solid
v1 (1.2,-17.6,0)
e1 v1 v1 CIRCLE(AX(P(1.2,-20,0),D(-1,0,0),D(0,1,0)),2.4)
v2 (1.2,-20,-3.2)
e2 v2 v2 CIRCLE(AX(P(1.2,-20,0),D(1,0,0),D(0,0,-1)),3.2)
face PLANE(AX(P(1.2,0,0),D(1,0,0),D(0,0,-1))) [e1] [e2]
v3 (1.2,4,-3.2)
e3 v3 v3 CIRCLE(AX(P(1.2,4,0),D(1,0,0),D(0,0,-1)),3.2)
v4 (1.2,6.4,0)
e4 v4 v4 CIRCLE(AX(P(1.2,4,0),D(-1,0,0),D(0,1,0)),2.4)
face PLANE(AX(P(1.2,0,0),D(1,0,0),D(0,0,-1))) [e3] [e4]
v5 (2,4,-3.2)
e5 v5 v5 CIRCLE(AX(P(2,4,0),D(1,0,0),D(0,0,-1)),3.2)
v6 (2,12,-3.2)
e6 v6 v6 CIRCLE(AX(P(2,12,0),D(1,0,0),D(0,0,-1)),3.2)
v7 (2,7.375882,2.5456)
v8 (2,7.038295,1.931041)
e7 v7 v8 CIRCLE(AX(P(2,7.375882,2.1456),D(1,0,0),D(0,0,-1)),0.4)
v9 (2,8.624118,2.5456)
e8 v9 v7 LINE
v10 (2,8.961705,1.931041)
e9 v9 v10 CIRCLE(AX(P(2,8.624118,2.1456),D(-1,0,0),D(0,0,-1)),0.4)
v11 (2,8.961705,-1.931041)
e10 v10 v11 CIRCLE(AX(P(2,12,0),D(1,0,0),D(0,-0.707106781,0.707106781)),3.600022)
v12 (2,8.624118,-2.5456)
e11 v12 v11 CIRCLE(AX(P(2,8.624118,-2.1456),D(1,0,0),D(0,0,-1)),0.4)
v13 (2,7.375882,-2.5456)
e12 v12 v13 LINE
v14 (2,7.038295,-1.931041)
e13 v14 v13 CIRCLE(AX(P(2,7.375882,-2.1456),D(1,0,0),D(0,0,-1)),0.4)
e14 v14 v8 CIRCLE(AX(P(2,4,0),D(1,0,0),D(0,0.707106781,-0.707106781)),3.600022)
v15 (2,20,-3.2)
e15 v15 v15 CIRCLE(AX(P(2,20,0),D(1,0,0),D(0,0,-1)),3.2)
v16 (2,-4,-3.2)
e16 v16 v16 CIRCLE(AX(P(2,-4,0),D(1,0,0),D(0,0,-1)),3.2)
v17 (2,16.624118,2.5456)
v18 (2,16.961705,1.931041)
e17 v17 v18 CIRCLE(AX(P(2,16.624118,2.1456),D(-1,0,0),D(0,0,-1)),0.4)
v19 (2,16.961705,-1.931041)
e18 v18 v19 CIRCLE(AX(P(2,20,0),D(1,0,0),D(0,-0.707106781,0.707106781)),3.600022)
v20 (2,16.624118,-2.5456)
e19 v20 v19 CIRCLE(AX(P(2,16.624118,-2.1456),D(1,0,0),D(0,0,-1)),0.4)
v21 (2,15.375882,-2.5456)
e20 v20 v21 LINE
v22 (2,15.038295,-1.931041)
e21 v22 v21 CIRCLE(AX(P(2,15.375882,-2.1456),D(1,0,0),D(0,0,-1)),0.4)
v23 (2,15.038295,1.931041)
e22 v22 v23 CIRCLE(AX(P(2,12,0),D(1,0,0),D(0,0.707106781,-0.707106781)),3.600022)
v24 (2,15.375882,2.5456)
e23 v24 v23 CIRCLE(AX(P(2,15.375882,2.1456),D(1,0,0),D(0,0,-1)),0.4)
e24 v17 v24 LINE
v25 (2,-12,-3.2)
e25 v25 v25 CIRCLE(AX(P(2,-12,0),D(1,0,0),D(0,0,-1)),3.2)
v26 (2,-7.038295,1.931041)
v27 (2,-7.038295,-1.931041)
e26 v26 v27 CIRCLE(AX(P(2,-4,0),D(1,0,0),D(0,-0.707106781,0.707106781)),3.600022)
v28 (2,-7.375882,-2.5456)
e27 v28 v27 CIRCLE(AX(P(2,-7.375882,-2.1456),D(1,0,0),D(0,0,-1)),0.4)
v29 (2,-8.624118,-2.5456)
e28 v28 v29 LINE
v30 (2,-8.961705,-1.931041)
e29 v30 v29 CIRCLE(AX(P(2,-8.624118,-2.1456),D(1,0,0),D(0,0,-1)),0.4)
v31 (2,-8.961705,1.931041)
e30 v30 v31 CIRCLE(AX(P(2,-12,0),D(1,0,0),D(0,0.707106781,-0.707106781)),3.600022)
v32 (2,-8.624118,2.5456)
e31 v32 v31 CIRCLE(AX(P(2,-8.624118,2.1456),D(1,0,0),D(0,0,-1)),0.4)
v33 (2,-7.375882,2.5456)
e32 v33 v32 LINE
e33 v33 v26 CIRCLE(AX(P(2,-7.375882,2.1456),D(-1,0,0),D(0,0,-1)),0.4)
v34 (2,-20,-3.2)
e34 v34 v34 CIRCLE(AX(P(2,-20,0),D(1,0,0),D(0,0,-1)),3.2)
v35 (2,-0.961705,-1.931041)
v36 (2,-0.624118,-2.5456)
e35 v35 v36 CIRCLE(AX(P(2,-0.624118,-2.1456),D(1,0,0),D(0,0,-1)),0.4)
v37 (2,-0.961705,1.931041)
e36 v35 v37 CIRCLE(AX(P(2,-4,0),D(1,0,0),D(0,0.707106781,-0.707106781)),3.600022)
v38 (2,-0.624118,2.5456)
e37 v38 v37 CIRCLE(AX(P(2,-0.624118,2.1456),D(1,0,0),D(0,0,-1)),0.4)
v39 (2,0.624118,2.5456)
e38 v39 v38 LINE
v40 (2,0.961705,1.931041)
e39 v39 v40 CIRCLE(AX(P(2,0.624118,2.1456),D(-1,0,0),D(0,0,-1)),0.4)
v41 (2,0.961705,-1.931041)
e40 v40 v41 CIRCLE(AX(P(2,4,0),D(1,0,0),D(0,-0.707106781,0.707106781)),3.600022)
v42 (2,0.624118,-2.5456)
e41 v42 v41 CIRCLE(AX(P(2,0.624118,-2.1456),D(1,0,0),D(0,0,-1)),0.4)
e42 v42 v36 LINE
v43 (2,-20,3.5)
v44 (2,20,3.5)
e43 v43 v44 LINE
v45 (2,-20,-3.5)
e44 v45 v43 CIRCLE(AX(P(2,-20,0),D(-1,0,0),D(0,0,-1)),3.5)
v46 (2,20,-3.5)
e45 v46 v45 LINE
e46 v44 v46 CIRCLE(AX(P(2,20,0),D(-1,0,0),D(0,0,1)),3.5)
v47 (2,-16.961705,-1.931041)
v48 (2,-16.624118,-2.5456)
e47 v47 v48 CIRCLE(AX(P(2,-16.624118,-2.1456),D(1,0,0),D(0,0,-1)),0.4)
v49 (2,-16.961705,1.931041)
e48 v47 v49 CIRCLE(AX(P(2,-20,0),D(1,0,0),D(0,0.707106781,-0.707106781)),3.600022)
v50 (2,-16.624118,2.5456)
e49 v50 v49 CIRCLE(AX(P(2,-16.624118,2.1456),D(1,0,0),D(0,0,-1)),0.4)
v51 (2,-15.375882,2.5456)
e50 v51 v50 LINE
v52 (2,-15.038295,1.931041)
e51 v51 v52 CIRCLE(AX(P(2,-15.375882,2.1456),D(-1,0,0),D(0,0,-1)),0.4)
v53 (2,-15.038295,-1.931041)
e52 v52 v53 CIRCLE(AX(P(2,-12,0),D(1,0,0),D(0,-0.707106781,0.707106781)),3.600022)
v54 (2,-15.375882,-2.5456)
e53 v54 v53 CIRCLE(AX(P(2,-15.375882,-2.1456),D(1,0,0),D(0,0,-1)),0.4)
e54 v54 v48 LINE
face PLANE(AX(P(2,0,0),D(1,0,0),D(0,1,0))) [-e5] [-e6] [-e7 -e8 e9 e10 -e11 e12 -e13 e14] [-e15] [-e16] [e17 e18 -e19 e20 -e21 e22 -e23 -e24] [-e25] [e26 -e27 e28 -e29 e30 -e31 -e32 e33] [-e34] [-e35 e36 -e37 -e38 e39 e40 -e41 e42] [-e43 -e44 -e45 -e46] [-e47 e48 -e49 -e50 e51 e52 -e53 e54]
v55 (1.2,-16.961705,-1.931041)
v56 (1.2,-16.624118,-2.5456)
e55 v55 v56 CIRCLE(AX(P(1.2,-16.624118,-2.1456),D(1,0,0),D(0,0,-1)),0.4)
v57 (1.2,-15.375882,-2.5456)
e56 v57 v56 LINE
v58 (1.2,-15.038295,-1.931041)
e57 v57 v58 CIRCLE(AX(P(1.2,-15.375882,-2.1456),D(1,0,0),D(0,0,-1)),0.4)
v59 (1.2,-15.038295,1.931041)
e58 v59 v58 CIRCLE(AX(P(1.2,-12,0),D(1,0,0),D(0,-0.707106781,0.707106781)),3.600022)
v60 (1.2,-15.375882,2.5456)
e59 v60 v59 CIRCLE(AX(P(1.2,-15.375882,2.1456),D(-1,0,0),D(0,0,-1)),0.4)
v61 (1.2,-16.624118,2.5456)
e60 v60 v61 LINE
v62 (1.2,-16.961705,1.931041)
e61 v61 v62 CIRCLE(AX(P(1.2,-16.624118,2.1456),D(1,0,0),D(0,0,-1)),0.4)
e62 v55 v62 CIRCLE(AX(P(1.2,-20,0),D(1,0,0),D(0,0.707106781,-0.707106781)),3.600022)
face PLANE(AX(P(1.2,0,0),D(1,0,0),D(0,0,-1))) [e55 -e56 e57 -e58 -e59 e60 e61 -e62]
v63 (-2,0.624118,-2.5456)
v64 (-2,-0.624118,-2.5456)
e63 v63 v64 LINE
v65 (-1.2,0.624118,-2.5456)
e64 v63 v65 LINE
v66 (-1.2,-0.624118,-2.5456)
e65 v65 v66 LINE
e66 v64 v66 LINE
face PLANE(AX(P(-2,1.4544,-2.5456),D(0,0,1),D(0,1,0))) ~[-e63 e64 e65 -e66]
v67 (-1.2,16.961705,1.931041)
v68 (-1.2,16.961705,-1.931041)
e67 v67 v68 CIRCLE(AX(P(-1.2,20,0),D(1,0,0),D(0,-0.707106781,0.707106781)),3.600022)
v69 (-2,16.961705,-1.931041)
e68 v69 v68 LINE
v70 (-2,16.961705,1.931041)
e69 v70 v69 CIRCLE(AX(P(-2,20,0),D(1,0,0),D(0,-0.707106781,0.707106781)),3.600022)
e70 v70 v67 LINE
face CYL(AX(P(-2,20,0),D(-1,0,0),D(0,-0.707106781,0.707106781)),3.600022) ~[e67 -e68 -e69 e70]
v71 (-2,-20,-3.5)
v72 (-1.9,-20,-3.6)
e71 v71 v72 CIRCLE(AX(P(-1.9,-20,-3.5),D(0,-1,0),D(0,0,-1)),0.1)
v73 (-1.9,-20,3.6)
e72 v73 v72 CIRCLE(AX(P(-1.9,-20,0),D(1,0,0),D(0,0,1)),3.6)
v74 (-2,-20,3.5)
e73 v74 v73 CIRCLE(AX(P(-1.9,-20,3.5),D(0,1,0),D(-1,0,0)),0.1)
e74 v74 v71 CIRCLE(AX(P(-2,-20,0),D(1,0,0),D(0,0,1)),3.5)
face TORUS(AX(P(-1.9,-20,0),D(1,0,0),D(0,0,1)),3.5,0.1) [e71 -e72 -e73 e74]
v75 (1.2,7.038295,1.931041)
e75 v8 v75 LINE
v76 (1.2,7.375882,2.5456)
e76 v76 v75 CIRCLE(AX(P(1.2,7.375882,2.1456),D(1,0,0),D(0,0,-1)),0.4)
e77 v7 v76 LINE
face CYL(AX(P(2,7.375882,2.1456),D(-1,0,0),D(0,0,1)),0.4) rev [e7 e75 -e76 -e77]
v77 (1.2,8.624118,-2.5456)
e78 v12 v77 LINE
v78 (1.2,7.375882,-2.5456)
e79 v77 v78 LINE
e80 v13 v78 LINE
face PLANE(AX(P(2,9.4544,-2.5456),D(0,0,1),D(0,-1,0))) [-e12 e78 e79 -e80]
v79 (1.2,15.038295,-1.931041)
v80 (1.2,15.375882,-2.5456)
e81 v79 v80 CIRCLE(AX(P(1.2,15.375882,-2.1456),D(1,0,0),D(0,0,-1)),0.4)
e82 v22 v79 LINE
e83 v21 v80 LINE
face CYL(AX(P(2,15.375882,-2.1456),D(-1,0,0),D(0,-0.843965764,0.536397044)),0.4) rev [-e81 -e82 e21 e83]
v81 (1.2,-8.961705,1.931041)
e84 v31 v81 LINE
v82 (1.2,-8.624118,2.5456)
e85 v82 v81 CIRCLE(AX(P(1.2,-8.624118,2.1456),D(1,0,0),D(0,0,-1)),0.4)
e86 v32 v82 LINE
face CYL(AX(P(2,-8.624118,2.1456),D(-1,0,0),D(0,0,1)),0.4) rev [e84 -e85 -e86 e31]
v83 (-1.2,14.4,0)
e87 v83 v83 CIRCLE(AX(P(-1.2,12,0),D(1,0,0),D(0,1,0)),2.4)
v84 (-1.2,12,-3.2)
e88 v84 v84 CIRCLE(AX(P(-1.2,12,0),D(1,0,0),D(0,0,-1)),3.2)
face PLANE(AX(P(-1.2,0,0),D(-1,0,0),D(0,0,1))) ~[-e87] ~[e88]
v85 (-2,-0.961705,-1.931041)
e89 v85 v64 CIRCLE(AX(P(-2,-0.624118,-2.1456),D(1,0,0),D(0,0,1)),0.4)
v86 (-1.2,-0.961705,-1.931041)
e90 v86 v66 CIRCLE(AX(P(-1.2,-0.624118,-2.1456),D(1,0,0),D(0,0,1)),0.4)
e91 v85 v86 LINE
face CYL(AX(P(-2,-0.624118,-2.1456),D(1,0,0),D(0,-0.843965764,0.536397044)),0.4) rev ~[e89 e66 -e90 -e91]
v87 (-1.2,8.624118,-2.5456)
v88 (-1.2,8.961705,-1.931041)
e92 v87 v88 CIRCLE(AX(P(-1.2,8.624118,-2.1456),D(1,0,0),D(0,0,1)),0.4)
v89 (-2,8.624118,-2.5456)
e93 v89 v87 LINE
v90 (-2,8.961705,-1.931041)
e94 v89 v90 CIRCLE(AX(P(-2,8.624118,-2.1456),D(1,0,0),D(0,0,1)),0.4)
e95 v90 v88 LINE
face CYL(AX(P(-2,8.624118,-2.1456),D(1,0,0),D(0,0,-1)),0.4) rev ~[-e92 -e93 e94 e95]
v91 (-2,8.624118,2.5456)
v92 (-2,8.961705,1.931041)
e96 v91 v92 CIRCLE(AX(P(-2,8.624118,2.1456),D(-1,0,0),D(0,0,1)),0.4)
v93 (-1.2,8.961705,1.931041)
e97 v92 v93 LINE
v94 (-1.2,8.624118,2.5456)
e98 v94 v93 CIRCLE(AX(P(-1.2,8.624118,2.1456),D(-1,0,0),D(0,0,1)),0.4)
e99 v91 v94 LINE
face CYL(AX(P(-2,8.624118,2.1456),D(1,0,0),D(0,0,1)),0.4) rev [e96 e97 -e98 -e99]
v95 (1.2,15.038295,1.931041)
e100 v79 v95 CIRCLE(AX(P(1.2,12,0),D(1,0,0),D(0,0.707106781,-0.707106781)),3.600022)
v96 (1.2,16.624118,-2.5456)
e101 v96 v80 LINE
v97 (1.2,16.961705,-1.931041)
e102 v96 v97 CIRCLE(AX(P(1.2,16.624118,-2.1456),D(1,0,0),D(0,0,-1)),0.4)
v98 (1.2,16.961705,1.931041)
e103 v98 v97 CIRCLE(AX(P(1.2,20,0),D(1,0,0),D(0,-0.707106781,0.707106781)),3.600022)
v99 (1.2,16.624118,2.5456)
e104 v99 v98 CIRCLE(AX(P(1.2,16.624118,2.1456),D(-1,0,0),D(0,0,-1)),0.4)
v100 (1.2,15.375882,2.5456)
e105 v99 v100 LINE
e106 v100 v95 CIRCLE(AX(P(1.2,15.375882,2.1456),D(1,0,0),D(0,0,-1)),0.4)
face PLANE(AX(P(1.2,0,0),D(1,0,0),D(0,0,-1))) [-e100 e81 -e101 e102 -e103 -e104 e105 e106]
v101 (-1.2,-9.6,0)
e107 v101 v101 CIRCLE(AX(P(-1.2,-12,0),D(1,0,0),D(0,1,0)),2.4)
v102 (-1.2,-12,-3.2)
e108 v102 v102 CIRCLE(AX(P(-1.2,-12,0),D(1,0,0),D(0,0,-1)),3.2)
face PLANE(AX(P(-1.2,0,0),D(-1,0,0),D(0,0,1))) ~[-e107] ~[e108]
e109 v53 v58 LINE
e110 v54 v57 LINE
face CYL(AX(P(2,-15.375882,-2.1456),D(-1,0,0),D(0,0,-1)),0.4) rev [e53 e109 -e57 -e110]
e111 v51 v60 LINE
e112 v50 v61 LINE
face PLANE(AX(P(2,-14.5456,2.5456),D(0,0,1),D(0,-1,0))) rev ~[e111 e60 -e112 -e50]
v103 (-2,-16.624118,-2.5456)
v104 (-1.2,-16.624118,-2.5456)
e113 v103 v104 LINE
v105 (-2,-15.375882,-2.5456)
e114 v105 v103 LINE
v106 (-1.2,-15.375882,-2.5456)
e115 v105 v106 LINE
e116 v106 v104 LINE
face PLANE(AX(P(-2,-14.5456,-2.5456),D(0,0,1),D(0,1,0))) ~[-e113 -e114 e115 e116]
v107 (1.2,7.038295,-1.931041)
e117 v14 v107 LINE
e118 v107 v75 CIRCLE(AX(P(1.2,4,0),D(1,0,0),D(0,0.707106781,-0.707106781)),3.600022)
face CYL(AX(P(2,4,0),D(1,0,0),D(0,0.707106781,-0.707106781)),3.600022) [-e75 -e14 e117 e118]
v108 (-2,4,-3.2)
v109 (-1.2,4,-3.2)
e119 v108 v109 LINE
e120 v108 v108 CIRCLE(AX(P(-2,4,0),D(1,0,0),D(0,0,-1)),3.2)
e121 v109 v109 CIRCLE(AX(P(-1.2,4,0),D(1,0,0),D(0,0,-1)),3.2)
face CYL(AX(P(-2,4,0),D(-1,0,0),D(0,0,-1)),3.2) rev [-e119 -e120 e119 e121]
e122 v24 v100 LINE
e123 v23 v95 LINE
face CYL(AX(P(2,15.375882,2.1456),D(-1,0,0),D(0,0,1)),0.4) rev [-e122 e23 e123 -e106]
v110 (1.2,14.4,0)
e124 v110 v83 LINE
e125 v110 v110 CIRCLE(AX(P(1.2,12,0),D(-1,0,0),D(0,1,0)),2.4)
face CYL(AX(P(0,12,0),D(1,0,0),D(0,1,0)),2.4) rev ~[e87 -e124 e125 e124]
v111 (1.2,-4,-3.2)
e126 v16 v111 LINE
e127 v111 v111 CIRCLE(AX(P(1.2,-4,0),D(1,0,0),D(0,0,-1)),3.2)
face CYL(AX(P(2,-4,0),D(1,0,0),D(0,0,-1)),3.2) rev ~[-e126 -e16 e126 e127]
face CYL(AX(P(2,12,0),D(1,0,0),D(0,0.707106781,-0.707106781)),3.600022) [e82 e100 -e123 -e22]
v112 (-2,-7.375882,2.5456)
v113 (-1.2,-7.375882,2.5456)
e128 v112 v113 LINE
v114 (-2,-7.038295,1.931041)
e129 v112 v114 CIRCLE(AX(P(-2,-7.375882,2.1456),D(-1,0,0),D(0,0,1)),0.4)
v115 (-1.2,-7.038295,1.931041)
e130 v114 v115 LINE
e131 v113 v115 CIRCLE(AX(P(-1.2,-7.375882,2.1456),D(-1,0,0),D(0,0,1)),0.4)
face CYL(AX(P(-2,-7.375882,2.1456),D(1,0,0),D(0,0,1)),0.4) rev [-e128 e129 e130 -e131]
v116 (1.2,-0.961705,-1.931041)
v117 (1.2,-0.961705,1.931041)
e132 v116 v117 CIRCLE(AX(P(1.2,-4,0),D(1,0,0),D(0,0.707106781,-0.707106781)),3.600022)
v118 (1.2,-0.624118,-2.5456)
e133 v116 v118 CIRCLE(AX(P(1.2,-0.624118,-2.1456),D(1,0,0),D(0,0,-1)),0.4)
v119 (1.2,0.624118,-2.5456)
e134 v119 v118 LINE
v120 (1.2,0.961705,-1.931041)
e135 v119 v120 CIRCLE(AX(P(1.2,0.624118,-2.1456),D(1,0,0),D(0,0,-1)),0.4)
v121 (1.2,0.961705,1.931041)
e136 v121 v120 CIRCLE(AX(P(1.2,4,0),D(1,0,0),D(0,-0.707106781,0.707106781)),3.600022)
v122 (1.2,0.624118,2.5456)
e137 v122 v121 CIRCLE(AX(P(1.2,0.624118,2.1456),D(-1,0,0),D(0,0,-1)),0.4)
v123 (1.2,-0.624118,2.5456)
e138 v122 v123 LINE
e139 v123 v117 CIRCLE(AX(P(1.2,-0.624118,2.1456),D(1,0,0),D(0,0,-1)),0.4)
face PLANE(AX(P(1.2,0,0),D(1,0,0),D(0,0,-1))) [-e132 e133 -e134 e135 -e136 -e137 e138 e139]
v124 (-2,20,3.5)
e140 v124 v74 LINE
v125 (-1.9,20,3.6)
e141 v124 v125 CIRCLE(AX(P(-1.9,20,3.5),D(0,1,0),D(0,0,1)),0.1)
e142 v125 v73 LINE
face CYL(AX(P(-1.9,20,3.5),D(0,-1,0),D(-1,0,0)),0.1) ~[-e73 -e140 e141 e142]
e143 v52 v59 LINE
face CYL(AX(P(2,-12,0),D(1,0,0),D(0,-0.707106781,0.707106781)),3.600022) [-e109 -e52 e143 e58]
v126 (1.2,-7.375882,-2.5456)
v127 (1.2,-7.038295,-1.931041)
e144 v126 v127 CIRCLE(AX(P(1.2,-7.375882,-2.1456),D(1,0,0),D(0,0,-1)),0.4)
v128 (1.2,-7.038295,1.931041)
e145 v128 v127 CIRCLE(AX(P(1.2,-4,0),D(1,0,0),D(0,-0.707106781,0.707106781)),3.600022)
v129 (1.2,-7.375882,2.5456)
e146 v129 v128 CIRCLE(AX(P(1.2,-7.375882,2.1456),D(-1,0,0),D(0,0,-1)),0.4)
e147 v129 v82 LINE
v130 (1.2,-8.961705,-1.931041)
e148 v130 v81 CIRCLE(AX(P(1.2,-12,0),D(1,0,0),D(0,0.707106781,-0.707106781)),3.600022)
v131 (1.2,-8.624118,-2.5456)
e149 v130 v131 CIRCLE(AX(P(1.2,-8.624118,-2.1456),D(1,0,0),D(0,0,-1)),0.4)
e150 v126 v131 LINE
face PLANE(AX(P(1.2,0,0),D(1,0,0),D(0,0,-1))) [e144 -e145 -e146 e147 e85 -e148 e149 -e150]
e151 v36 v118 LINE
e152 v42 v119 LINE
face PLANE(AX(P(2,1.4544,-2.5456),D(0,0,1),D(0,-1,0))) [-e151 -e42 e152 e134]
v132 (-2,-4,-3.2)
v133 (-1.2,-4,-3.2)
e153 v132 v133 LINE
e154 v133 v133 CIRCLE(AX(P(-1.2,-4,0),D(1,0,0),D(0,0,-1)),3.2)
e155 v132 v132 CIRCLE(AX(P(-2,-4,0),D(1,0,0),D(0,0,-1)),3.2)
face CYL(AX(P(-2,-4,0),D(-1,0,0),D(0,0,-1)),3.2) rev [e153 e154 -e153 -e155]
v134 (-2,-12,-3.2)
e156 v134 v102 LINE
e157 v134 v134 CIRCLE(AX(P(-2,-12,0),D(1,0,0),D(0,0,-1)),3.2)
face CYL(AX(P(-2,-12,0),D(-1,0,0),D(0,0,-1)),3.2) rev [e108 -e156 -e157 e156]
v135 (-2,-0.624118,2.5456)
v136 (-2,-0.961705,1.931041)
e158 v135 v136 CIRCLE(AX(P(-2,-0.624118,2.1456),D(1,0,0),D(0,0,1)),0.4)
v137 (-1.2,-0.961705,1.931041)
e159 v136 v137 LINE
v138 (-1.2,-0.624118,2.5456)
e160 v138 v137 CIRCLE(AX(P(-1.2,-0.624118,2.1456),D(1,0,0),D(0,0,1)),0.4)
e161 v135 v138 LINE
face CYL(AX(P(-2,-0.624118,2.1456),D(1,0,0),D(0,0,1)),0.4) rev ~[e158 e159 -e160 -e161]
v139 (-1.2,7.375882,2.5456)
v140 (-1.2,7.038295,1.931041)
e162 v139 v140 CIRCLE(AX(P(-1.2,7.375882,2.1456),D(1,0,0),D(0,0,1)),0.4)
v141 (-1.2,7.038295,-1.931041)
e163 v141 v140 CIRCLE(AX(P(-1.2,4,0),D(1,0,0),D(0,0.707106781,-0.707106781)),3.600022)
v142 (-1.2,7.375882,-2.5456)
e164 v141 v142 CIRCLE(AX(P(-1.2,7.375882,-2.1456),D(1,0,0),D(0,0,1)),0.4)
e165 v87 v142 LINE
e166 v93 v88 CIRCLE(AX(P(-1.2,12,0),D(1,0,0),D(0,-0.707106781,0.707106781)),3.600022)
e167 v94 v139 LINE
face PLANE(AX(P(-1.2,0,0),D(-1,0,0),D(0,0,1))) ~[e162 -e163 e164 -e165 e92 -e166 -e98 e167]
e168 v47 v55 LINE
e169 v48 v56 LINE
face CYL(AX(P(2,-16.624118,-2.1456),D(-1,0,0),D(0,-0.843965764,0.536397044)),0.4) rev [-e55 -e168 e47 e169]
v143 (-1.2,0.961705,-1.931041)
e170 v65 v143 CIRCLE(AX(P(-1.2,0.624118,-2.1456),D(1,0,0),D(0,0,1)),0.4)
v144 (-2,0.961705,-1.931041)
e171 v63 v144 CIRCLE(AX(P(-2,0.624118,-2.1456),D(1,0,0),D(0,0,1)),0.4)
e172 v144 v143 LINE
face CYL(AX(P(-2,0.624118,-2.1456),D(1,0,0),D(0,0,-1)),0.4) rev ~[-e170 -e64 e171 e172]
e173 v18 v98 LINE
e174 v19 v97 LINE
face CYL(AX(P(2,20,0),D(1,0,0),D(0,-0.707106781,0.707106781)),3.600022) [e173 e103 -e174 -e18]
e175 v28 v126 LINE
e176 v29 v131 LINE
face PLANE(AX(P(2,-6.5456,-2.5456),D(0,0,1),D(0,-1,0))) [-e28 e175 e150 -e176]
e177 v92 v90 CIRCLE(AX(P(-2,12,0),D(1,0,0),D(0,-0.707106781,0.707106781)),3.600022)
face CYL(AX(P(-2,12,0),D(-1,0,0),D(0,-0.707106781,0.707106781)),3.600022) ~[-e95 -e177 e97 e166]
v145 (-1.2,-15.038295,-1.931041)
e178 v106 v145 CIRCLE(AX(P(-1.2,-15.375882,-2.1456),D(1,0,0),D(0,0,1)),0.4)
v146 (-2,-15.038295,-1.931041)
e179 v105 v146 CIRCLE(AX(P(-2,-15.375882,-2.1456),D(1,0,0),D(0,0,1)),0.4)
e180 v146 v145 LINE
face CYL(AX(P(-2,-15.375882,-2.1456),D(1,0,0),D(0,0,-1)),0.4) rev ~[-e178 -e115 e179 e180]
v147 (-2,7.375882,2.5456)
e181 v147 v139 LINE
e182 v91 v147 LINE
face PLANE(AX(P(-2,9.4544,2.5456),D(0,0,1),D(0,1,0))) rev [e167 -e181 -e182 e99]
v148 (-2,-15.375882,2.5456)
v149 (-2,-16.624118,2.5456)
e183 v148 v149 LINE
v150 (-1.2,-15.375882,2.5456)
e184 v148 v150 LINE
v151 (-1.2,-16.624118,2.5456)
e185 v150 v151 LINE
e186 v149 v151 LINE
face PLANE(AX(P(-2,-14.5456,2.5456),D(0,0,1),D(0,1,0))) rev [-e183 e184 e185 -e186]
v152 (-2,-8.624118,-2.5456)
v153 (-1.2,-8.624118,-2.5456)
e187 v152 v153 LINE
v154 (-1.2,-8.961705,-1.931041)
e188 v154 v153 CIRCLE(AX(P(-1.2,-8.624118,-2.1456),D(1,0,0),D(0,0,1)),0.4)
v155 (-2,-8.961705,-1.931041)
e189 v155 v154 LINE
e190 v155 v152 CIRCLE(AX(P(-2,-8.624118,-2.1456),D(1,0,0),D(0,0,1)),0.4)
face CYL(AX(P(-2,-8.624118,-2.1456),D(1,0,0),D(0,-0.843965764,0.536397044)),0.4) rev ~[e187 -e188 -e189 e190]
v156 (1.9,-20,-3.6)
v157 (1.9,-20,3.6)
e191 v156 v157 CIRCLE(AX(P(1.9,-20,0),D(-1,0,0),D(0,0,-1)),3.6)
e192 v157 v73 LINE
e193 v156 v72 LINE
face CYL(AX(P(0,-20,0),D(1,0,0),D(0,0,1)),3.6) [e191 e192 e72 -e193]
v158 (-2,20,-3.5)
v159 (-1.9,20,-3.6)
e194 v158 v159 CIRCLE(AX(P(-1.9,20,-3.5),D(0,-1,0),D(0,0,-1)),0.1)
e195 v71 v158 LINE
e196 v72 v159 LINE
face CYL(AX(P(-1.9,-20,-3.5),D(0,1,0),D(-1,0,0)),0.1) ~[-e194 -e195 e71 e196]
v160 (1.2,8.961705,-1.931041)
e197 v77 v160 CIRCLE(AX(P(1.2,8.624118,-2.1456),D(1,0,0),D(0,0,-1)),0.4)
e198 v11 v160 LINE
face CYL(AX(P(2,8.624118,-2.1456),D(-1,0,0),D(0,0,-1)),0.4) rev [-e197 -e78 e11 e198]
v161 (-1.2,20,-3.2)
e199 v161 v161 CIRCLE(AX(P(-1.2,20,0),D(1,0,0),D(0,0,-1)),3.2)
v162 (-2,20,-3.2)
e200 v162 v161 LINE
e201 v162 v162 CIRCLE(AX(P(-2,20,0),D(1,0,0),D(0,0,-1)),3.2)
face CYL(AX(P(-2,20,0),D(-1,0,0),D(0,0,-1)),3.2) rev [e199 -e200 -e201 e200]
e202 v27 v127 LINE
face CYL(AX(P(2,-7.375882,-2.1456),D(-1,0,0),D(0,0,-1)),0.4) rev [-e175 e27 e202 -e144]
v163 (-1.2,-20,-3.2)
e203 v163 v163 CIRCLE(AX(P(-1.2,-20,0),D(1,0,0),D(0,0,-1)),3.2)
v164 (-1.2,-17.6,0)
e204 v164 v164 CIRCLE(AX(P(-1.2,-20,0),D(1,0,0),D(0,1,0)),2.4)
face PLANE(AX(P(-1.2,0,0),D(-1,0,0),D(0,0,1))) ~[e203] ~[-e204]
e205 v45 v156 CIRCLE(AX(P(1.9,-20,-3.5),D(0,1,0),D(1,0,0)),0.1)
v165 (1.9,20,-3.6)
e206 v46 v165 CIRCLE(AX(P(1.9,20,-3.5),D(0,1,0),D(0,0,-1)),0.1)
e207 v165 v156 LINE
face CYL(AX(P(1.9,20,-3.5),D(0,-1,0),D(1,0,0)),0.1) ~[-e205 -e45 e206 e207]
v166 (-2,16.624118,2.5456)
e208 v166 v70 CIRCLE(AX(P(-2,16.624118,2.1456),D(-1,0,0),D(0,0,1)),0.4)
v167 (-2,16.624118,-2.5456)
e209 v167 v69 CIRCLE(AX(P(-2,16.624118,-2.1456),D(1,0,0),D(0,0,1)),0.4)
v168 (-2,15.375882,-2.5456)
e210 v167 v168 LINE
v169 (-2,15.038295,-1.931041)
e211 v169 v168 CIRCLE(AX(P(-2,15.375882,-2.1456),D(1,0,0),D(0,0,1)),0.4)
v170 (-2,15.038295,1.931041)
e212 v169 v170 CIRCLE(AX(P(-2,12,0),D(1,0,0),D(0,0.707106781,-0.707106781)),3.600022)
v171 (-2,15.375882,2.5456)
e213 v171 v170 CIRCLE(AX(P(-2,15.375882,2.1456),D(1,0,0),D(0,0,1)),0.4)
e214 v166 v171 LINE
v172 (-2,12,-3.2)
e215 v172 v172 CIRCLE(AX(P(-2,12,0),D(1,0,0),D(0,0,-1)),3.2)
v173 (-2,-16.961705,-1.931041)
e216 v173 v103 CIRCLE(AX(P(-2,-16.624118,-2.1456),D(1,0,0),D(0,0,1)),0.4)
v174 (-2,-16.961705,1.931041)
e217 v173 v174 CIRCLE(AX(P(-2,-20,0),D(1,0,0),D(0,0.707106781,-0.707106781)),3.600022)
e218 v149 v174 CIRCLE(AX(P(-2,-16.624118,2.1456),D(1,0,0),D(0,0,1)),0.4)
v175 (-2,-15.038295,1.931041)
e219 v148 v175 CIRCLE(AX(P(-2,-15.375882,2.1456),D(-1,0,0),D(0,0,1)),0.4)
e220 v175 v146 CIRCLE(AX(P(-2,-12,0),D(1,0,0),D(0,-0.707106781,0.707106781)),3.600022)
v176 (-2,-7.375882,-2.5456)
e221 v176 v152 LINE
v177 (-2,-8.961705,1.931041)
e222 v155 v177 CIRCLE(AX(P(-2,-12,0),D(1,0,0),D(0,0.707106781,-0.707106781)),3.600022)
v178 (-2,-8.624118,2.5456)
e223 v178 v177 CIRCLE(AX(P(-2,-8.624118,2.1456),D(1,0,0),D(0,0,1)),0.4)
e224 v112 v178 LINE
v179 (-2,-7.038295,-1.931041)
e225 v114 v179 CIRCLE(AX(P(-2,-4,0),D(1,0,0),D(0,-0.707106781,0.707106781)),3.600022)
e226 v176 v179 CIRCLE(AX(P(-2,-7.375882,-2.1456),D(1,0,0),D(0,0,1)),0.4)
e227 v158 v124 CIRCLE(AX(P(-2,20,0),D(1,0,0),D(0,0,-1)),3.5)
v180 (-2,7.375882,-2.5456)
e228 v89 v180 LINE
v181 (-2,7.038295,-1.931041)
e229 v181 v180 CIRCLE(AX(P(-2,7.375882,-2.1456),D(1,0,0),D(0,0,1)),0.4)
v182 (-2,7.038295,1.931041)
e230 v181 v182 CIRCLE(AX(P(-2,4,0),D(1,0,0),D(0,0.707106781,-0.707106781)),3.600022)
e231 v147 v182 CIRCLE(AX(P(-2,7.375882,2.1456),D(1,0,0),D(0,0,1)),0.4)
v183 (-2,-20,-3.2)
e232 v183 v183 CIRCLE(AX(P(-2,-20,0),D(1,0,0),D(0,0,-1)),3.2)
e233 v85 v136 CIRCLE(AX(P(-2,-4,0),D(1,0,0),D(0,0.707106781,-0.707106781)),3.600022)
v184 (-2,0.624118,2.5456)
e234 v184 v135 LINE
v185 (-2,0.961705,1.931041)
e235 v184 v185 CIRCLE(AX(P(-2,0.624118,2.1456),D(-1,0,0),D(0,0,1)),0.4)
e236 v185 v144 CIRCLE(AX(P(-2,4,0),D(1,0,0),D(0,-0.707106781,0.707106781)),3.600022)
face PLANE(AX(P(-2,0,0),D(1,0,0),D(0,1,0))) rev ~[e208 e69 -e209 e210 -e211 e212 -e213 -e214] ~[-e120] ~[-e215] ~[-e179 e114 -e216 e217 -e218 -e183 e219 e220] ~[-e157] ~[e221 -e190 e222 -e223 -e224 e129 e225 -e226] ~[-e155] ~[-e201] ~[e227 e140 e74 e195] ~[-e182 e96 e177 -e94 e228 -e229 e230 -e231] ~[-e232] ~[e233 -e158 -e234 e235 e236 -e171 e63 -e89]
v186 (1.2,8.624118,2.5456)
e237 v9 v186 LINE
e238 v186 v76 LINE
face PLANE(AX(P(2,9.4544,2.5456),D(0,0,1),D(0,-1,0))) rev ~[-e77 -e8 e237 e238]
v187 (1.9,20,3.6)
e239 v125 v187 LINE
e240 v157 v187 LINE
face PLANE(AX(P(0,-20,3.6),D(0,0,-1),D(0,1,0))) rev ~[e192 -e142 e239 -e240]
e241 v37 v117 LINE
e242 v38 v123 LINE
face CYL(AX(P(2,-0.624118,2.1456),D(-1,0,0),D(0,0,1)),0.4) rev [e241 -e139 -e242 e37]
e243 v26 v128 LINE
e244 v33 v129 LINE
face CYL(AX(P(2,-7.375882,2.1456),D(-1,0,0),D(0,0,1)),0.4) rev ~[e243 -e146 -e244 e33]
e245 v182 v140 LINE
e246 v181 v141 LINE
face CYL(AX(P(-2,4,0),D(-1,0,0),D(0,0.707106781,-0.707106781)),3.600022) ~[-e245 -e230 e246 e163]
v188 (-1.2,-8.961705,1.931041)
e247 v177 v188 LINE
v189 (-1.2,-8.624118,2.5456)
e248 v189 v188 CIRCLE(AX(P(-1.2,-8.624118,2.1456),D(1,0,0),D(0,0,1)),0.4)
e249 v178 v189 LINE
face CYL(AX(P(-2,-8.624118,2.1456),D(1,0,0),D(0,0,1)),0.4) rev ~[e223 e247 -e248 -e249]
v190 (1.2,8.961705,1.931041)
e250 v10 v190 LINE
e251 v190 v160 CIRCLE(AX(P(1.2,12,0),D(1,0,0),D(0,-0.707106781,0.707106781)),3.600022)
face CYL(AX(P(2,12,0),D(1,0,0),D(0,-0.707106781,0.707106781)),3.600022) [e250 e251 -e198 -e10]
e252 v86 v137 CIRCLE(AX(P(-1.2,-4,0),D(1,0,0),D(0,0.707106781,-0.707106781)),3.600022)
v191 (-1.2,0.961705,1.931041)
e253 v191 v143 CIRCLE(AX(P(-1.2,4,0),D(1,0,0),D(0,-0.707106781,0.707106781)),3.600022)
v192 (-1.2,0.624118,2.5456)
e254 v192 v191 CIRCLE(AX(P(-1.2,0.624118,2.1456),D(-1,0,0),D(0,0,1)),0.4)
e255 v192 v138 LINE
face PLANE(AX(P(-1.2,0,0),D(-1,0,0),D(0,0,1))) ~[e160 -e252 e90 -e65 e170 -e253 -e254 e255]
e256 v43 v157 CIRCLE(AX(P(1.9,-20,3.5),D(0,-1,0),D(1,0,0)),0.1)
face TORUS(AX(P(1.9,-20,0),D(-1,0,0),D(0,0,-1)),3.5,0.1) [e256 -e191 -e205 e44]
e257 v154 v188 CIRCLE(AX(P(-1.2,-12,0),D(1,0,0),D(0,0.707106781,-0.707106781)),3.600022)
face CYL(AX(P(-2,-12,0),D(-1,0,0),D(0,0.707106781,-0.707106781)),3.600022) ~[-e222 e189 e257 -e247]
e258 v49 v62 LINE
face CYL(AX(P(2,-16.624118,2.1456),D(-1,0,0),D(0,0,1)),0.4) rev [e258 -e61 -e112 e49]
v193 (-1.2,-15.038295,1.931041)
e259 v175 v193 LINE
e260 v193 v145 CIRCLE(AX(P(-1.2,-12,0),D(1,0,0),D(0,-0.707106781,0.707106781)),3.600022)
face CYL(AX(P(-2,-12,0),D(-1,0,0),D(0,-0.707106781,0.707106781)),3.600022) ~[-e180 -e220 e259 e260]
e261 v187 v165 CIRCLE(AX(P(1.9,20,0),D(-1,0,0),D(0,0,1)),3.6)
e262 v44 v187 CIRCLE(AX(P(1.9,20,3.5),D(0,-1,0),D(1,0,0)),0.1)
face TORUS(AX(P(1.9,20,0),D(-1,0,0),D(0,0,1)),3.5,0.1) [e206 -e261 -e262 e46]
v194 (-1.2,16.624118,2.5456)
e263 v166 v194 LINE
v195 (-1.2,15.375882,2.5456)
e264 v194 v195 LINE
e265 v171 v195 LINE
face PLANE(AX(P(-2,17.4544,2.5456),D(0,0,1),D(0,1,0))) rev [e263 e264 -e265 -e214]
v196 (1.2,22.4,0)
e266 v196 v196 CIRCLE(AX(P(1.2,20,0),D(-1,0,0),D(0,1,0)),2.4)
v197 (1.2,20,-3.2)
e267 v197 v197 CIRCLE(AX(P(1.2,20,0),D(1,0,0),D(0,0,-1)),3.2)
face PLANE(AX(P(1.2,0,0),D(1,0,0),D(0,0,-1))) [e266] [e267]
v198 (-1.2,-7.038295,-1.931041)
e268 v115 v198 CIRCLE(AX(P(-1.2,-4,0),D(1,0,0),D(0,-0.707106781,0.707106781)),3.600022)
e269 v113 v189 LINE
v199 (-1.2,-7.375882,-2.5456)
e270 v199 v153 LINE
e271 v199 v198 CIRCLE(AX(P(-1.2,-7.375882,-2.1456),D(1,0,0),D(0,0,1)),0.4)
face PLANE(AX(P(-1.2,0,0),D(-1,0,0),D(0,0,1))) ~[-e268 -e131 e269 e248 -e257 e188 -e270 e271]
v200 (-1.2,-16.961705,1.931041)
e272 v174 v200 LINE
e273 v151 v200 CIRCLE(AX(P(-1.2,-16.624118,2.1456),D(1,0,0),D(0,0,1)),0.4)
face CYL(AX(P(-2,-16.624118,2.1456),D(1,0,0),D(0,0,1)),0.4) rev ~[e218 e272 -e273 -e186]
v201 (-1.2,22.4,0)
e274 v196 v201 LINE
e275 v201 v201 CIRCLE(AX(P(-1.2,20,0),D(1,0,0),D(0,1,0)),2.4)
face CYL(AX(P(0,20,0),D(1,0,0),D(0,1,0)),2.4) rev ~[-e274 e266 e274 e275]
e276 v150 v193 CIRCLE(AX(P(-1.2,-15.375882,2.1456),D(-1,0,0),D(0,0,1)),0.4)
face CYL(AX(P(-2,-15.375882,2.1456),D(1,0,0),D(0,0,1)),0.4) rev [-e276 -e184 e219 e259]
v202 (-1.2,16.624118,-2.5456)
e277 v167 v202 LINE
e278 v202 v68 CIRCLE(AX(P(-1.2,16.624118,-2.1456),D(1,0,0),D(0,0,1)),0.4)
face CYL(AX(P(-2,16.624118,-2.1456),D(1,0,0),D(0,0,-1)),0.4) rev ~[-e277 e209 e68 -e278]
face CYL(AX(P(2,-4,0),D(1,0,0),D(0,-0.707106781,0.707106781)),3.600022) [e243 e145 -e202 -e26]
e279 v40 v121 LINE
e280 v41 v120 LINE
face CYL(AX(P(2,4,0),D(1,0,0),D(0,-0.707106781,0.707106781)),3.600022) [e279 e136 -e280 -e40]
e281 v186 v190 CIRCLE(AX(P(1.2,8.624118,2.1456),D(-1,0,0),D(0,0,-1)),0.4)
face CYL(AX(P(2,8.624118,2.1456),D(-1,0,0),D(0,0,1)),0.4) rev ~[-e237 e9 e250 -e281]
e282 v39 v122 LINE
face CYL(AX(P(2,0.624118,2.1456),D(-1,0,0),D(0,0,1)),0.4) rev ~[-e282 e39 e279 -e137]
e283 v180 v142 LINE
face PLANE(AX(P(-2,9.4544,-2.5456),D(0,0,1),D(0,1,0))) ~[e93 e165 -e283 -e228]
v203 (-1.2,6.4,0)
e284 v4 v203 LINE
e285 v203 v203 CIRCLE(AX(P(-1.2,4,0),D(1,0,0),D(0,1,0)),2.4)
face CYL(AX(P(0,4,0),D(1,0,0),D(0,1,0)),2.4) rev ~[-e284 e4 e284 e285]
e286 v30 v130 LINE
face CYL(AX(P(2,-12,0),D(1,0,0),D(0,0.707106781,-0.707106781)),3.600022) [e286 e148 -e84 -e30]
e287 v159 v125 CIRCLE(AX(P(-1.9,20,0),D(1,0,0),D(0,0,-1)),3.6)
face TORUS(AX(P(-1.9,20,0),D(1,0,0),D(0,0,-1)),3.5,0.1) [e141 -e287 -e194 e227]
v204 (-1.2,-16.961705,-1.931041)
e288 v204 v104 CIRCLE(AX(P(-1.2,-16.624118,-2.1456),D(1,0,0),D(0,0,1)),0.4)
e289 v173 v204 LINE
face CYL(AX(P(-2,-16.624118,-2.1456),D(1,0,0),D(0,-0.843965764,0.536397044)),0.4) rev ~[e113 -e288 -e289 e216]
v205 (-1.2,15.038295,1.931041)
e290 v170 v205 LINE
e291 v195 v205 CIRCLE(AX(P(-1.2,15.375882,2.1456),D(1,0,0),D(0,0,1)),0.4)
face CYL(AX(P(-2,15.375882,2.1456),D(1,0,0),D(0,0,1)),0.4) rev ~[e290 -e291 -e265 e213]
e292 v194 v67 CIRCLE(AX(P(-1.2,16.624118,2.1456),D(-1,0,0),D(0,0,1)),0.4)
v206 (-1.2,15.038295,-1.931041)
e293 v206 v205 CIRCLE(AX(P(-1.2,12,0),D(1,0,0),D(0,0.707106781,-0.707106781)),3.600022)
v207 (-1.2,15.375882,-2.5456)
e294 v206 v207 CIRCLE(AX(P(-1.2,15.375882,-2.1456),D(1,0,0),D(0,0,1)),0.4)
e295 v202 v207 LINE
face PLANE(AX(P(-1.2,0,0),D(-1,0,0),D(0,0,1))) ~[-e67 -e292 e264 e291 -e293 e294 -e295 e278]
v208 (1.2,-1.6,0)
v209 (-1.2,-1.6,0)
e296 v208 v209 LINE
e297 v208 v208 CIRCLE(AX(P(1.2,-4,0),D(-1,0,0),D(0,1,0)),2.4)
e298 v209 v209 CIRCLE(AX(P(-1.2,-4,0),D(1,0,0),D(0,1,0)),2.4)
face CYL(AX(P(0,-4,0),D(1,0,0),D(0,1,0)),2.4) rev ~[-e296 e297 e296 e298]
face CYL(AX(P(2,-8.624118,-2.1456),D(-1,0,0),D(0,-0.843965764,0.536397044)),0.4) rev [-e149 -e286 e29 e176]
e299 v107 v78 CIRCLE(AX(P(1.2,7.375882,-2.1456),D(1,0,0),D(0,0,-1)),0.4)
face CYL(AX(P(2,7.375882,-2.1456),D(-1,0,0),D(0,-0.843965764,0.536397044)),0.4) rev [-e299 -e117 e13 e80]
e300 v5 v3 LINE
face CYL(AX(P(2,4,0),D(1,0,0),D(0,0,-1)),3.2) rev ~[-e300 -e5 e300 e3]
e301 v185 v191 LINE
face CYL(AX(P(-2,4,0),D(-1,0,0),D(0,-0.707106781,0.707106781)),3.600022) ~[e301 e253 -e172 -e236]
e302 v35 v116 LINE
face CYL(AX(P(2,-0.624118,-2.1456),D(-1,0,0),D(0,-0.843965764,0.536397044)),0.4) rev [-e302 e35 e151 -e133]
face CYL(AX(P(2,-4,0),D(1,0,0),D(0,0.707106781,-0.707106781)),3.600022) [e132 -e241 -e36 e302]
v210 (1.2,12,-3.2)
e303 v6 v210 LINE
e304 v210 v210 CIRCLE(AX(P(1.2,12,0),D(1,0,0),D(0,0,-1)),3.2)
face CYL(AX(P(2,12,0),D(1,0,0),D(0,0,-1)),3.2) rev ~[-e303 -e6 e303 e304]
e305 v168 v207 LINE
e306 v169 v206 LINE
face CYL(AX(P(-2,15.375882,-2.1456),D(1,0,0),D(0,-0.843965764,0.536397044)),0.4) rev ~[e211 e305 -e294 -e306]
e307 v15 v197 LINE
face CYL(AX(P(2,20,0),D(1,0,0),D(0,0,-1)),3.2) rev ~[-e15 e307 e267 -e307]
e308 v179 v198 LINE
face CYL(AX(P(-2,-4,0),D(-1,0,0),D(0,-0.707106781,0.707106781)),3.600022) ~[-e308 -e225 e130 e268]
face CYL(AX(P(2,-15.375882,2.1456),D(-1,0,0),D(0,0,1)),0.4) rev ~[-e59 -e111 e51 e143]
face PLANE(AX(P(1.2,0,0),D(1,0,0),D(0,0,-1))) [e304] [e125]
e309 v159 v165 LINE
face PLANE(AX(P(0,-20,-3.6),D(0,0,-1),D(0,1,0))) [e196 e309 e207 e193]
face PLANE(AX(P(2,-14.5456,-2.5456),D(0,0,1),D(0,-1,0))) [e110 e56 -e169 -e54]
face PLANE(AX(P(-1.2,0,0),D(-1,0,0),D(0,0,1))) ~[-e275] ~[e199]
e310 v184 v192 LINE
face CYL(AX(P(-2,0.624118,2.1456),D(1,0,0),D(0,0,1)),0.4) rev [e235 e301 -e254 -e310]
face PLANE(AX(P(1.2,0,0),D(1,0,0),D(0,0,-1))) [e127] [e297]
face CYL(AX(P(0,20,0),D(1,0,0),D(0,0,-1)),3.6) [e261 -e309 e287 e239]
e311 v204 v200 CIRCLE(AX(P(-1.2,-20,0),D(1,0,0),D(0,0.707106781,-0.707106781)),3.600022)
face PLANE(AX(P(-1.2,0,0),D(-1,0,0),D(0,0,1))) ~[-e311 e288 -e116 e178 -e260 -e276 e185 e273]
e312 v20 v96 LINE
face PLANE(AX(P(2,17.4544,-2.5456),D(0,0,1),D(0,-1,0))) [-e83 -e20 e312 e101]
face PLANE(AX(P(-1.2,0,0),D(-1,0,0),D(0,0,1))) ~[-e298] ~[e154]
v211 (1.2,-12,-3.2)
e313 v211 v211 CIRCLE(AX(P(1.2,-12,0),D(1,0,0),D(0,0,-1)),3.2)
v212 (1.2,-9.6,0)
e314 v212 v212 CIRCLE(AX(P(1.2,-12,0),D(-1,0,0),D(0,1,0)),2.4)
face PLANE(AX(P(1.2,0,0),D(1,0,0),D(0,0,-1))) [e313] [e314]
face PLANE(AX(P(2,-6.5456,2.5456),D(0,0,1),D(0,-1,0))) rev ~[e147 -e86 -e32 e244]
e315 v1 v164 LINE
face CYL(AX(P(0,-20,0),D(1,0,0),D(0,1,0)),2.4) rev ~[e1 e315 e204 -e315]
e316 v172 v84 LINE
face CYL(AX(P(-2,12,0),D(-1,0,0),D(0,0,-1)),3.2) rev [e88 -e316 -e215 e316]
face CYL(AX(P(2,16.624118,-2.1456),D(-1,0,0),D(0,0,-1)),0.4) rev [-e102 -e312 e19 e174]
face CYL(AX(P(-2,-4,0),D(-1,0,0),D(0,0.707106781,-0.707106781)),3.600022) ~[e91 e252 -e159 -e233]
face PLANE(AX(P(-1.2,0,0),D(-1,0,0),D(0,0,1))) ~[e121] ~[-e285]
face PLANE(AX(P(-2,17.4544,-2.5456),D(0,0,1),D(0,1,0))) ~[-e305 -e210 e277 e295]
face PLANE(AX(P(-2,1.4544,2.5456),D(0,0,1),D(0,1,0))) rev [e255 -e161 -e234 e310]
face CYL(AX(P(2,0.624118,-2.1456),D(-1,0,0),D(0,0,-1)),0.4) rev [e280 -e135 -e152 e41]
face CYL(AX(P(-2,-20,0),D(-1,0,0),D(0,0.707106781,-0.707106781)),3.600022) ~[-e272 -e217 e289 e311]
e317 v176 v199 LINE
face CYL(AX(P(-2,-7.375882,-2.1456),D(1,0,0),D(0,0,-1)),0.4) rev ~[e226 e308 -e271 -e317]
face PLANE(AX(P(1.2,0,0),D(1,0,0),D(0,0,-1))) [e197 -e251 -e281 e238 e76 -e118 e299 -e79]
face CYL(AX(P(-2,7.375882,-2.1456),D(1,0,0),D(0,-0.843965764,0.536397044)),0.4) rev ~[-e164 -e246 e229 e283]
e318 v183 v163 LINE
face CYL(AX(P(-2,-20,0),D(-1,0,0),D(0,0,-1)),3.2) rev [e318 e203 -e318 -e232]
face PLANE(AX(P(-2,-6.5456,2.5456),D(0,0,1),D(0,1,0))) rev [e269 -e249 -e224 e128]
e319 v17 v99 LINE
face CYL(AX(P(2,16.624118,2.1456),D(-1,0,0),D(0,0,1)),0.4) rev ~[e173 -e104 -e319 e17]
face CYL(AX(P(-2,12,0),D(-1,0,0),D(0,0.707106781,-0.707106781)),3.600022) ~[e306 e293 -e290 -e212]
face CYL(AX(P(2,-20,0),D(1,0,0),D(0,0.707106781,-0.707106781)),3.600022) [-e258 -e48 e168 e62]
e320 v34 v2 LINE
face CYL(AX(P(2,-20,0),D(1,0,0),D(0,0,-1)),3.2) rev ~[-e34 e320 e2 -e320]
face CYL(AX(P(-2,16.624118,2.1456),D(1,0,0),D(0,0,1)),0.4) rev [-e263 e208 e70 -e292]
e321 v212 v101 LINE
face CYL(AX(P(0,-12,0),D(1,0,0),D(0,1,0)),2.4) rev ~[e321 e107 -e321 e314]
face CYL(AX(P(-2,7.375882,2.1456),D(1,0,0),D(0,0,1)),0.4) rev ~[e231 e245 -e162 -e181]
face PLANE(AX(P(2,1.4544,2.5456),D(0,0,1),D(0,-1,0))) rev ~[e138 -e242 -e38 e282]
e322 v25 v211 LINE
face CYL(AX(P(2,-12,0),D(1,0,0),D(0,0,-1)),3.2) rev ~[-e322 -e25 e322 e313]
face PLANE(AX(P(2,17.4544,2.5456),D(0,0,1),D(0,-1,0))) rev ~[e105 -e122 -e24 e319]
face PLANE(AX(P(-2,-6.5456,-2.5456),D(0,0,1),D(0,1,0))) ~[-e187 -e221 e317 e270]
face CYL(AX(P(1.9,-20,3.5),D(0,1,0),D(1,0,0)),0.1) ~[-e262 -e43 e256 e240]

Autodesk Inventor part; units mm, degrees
ref_plane "YZ Plane" through (0, 0, 0) normal (1, 0, 0) x (0, 1, 0)
ref_plane "XZ Plane" through (0, 0, 0) normal (0, 1, 0) x (-1, 0, 0)
ref_plane "XY Plane" through (0, 0, 0) normal (0, 0, 1) x (1, 0, 0)
sketch "Sketch3" plane through (0, 0, 0) normal (1, 0, 0) x (0, 1, 0)
  arc A0 (20, -3.6) -> (20, 3.6) centre (20, 0) ccw
  line L0 (-20, -3.6) -> (20, -3.6)
  line L1 (-20, 3.6) -> (20, 3.6)
  arc A1 (-20, 3.6) -> (-20, -3.6) centre (-20, 0) ccw
  line L2 (0, -3.6) -> (0, 3.6) construction
  circle A2 centre (-12, 0) radius 3.2
  circle A3 centre (-4, 0) radius 3.2
  line L3 (-4, 0) -> (-12, 0) construction
  line L4 (-12, 0) -> (-20, 0) construction
  circle A4 centre (-12, 0) radius 2.4
  circle A5 centre (-4, 0) radius 2.4
  circle A6 centre (-20, 0) radius 3.2
  circle A7 centre (-20, 0) radius 2.4
  circle A8 centre (4, 0) radius 3.2
  circle A9 centre (4, 0) radius 2.4
  circle A10 centre (20, 0) radius 3.2
  circle A11 centre (20, 0) radius 2.4
  line L5 (-4, 0) -> (4, 0) construction
  circle A12 centre (12, 0) radius 2.4
  circle A13 centre (12, 0) radius 3.2
  line L6 (4, 0) -> (12, 0) construction
  line L7 (12, 0) -> (20, 0) construction
  point P0 (0, 0)
  point P1 (0, 0)
  dimension "d49" = 7.2
  dimension "d59" = 6.4
  dimension "d60" = 4.8
  dimension "d64" = 8
extrude "Extrusion4" add sketch "Sketch3" along normal mid plane 4 contours L0 A1 L1 A0 | A2 | A3 | A6 | A8 | A10 | A13
sketch "Sketch11" plane through (2, 0, 0) normal (1, 0, 0) x (0, 0, -1)
  circle A0 centre (0, -4) radius 2.4 projected
  circle A1 centre (0, -12) radius 2.4 projected
  circle A2 centre (0, -4) radius 3.2
  circle A3 centre (0, -12) radius 3.2
  circle A4 centre (0, 4) radius 2.4 projected
  arc A5 (3.6, 20) -> (-3.6, 20) centre (0, 20) ccw projected
  arc A6 (-3.6, -20) -> (3.6, -20) centre (0, -20) ccw projected
  circle A7 centre (0, -20) radius 3.2
  circle A8 centre (0, 4) radius 3.2
  circle A9 centre (0, 20) radius 3.2
  circle A10 centre (0, 12) radius 2.4 projected
  circle A11 centre (0, 12) radius 3.2
  circle A12 centre (0, 20) radius 2.4 projected
  line L0 (-3.6, -20) -> (-3.6, 20) projected
  line L1 (-2.5456, 17.4544) -> (-2.5456, 14.5456)
  line L2 (2.5456, 17.4544) -> (2.5456, 14.5456)
  arc A13 (-2.5456, 17.4544) -> (2.5456, 17.4544) centre (0, 20) ccw
  arc A14 (2.5456, 14.5456) -> (-2.5456, 14.5456) centre (0, 12) ccw
  line L3 (-2.5456, 17.4544) -> (0, 20) construction
  line L4 (-2.5456, 9.4544) -> (-2.5456, 6.5456)
  line L5 (2.5456, 9.4544) -> (2.5456, 6.5456)
  arc A15 (-2.5456, 9.4544) -> (2.5456, 9.4544) centre (0, 12) ccw
  arc A16 (2.5456, 6.5456) -> (-2.5456, 6.5456) centre (0, 4) ccw
  line L6 (-2.5456, 1.4544) -> (-2.5456, -1.4544)
  line L7 (2.5456, 1.4544) -> (2.5456, -1.4544)
  arc A17 (-2.5456, 1.4544) -> (2.5456, 1.4544) centre (0, 4) ccw
  arc A18 (2.5456, -1.4544) -> (-2.5456, -1.4544) centre (0, -4) ccw
  line L8 (-2.5456, -6.5456) -> (-2.5456, -9.4544)
  line L9 (2.5456, -6.5456) -> (2.5456, -9.4544)
  arc A19 (-2.5456, -6.5456) -> (2.5456, -6.5456) centre (0, -4) ccw
  arc A20 (2.5456, -9.4544) -> (-2.5456, -9.4544) centre (0, -12) ccw
  line L10 (-2.5456, -14.5456) -> (-2.5456, -17.4544)
  line L11 (2.5456, -14.5456) -> (2.5456, -17.4544)
  arc A21 (-2.5456, -14.5456) -> (2.5456, -14.5456) centre (0, -12) ccw
  arc A22 (2.5456, -17.4544) -> (-2.5456, -17.4544) centre (0, -20) ccw
  point P0 (0, 0)
  dimension "d61" = 6.4
  dimension "d65" = 45
  dimension "d68" = 8
extrude "Extrusion16" cut sketch "Sketch11" against normal blind 0.8 contours A0 | A1 | A2 | A3 | A4 | A7 | A8 | A9 | A10 | A11 | A12
extrude "Extrusion17" cut sketch "Sketch11" against normal blind 0.8 contours A13 L2 A14 L1 | A15 L5 A16 L4 | A17 L7 A18 L6 | A19 L9 A20 L8 | A21 L11 A22 L10
mirror "Mirror3" about plane through (0, 0, 0) normal (1, 0, 0) of "Extrusion16", "Extrusion17"
fillet "Fillet1" radius 0.1 6 edges at (-2, 23.6, 0) (-2, 0, 3.6) (-2, 0, -3.6) (2, 0, 3.6) (2, 0, -3.6) (2, 23.6, 0)
fillet "Fillet1" radius 0.4 40 edges at (1.6, -17.4544, 2.5456) (1.6, -14.5456, 2.5456) (1.6, -17.4544, -2.5456) (1.6, -14.5456, -2.5456) (1.6, -9.4544, 2.5456) (1.6, -6.5456, 2.5456) (1.6, -9.4544, -2.5456) (1.6, -6.5456, -2.5456) (1.6, -1.4544, 2.5456) (1.6, 1.4544, 2.5456) (1.6, -1.4544, -2.5456) (1.6, 1.4544, -2.5456) (1.6, 6.5456, 2.5456) (1.6, 9.4544, 2.5456) (1.6, 6.5456, -2.5456) (1.6, 9.4544, -2.5456) (1.6, 14.5456, 2.5456) (1.6, 17.4544, 2.5456) (1.6, 14.5456, -2.5456) (1.6, 17.4544, -2.5456) (-1.6, 17.4544, -2.5456) (-1.6, 17.4544, 2.5456) (-1.6, 14.5456, 2.5456) (-1.6, 14.5456, -2.5456) (-1.6, 9.4544, 2.5456) (-1.6, 6.5456, 2.5456) (-1.6, 6.5456, -2.5456) (-1.6, 9.4544, -2.5456) (-1.6, 1.4544, 2.5456) (-1.6, -1.4544, 2.5456) (-1.6, -1.4544, -2.5456) (-1.6, 1.4544, -2.5456) (-1.6, -6.5456, 2.5456) (-1.6, -9.4544, 2.5456) (-1.6, -9.4544, -2.5456) (-1.6, -6.5456, -2.5456) (-1.6, -14.5456, 2.5456) (-1.6, -17.4544, 2.5456) (-1.6, -17.4544, -2.5456) (-1.6, -14.5456, -2.5456)
equation "\"d49\" = tlad"
equation "\"d59\" = tsd"
equation "\"d60\" = tpd"
equation "\"d64\" = lu"
equation "\"d15\" = 0.5 * lu"
equation "\"d61\" = tsd"
equation "\"d68\" = lu"
equation "\"d62\" = tsl"
equation "\"d73\" = 0.5 * lu - 2 * wall"
equation "\"tlad\" = 7.2"
equation "\"tsd\" = 6.4"
equation "\"tpd\" = 4.8"
equation "\"lu\" = 8"
equation "\"tsl\" = 0.8"
equation "\"wall\" = 1.6"
properties part number "32063-LtBluishGray" material "ABS Plastic"
